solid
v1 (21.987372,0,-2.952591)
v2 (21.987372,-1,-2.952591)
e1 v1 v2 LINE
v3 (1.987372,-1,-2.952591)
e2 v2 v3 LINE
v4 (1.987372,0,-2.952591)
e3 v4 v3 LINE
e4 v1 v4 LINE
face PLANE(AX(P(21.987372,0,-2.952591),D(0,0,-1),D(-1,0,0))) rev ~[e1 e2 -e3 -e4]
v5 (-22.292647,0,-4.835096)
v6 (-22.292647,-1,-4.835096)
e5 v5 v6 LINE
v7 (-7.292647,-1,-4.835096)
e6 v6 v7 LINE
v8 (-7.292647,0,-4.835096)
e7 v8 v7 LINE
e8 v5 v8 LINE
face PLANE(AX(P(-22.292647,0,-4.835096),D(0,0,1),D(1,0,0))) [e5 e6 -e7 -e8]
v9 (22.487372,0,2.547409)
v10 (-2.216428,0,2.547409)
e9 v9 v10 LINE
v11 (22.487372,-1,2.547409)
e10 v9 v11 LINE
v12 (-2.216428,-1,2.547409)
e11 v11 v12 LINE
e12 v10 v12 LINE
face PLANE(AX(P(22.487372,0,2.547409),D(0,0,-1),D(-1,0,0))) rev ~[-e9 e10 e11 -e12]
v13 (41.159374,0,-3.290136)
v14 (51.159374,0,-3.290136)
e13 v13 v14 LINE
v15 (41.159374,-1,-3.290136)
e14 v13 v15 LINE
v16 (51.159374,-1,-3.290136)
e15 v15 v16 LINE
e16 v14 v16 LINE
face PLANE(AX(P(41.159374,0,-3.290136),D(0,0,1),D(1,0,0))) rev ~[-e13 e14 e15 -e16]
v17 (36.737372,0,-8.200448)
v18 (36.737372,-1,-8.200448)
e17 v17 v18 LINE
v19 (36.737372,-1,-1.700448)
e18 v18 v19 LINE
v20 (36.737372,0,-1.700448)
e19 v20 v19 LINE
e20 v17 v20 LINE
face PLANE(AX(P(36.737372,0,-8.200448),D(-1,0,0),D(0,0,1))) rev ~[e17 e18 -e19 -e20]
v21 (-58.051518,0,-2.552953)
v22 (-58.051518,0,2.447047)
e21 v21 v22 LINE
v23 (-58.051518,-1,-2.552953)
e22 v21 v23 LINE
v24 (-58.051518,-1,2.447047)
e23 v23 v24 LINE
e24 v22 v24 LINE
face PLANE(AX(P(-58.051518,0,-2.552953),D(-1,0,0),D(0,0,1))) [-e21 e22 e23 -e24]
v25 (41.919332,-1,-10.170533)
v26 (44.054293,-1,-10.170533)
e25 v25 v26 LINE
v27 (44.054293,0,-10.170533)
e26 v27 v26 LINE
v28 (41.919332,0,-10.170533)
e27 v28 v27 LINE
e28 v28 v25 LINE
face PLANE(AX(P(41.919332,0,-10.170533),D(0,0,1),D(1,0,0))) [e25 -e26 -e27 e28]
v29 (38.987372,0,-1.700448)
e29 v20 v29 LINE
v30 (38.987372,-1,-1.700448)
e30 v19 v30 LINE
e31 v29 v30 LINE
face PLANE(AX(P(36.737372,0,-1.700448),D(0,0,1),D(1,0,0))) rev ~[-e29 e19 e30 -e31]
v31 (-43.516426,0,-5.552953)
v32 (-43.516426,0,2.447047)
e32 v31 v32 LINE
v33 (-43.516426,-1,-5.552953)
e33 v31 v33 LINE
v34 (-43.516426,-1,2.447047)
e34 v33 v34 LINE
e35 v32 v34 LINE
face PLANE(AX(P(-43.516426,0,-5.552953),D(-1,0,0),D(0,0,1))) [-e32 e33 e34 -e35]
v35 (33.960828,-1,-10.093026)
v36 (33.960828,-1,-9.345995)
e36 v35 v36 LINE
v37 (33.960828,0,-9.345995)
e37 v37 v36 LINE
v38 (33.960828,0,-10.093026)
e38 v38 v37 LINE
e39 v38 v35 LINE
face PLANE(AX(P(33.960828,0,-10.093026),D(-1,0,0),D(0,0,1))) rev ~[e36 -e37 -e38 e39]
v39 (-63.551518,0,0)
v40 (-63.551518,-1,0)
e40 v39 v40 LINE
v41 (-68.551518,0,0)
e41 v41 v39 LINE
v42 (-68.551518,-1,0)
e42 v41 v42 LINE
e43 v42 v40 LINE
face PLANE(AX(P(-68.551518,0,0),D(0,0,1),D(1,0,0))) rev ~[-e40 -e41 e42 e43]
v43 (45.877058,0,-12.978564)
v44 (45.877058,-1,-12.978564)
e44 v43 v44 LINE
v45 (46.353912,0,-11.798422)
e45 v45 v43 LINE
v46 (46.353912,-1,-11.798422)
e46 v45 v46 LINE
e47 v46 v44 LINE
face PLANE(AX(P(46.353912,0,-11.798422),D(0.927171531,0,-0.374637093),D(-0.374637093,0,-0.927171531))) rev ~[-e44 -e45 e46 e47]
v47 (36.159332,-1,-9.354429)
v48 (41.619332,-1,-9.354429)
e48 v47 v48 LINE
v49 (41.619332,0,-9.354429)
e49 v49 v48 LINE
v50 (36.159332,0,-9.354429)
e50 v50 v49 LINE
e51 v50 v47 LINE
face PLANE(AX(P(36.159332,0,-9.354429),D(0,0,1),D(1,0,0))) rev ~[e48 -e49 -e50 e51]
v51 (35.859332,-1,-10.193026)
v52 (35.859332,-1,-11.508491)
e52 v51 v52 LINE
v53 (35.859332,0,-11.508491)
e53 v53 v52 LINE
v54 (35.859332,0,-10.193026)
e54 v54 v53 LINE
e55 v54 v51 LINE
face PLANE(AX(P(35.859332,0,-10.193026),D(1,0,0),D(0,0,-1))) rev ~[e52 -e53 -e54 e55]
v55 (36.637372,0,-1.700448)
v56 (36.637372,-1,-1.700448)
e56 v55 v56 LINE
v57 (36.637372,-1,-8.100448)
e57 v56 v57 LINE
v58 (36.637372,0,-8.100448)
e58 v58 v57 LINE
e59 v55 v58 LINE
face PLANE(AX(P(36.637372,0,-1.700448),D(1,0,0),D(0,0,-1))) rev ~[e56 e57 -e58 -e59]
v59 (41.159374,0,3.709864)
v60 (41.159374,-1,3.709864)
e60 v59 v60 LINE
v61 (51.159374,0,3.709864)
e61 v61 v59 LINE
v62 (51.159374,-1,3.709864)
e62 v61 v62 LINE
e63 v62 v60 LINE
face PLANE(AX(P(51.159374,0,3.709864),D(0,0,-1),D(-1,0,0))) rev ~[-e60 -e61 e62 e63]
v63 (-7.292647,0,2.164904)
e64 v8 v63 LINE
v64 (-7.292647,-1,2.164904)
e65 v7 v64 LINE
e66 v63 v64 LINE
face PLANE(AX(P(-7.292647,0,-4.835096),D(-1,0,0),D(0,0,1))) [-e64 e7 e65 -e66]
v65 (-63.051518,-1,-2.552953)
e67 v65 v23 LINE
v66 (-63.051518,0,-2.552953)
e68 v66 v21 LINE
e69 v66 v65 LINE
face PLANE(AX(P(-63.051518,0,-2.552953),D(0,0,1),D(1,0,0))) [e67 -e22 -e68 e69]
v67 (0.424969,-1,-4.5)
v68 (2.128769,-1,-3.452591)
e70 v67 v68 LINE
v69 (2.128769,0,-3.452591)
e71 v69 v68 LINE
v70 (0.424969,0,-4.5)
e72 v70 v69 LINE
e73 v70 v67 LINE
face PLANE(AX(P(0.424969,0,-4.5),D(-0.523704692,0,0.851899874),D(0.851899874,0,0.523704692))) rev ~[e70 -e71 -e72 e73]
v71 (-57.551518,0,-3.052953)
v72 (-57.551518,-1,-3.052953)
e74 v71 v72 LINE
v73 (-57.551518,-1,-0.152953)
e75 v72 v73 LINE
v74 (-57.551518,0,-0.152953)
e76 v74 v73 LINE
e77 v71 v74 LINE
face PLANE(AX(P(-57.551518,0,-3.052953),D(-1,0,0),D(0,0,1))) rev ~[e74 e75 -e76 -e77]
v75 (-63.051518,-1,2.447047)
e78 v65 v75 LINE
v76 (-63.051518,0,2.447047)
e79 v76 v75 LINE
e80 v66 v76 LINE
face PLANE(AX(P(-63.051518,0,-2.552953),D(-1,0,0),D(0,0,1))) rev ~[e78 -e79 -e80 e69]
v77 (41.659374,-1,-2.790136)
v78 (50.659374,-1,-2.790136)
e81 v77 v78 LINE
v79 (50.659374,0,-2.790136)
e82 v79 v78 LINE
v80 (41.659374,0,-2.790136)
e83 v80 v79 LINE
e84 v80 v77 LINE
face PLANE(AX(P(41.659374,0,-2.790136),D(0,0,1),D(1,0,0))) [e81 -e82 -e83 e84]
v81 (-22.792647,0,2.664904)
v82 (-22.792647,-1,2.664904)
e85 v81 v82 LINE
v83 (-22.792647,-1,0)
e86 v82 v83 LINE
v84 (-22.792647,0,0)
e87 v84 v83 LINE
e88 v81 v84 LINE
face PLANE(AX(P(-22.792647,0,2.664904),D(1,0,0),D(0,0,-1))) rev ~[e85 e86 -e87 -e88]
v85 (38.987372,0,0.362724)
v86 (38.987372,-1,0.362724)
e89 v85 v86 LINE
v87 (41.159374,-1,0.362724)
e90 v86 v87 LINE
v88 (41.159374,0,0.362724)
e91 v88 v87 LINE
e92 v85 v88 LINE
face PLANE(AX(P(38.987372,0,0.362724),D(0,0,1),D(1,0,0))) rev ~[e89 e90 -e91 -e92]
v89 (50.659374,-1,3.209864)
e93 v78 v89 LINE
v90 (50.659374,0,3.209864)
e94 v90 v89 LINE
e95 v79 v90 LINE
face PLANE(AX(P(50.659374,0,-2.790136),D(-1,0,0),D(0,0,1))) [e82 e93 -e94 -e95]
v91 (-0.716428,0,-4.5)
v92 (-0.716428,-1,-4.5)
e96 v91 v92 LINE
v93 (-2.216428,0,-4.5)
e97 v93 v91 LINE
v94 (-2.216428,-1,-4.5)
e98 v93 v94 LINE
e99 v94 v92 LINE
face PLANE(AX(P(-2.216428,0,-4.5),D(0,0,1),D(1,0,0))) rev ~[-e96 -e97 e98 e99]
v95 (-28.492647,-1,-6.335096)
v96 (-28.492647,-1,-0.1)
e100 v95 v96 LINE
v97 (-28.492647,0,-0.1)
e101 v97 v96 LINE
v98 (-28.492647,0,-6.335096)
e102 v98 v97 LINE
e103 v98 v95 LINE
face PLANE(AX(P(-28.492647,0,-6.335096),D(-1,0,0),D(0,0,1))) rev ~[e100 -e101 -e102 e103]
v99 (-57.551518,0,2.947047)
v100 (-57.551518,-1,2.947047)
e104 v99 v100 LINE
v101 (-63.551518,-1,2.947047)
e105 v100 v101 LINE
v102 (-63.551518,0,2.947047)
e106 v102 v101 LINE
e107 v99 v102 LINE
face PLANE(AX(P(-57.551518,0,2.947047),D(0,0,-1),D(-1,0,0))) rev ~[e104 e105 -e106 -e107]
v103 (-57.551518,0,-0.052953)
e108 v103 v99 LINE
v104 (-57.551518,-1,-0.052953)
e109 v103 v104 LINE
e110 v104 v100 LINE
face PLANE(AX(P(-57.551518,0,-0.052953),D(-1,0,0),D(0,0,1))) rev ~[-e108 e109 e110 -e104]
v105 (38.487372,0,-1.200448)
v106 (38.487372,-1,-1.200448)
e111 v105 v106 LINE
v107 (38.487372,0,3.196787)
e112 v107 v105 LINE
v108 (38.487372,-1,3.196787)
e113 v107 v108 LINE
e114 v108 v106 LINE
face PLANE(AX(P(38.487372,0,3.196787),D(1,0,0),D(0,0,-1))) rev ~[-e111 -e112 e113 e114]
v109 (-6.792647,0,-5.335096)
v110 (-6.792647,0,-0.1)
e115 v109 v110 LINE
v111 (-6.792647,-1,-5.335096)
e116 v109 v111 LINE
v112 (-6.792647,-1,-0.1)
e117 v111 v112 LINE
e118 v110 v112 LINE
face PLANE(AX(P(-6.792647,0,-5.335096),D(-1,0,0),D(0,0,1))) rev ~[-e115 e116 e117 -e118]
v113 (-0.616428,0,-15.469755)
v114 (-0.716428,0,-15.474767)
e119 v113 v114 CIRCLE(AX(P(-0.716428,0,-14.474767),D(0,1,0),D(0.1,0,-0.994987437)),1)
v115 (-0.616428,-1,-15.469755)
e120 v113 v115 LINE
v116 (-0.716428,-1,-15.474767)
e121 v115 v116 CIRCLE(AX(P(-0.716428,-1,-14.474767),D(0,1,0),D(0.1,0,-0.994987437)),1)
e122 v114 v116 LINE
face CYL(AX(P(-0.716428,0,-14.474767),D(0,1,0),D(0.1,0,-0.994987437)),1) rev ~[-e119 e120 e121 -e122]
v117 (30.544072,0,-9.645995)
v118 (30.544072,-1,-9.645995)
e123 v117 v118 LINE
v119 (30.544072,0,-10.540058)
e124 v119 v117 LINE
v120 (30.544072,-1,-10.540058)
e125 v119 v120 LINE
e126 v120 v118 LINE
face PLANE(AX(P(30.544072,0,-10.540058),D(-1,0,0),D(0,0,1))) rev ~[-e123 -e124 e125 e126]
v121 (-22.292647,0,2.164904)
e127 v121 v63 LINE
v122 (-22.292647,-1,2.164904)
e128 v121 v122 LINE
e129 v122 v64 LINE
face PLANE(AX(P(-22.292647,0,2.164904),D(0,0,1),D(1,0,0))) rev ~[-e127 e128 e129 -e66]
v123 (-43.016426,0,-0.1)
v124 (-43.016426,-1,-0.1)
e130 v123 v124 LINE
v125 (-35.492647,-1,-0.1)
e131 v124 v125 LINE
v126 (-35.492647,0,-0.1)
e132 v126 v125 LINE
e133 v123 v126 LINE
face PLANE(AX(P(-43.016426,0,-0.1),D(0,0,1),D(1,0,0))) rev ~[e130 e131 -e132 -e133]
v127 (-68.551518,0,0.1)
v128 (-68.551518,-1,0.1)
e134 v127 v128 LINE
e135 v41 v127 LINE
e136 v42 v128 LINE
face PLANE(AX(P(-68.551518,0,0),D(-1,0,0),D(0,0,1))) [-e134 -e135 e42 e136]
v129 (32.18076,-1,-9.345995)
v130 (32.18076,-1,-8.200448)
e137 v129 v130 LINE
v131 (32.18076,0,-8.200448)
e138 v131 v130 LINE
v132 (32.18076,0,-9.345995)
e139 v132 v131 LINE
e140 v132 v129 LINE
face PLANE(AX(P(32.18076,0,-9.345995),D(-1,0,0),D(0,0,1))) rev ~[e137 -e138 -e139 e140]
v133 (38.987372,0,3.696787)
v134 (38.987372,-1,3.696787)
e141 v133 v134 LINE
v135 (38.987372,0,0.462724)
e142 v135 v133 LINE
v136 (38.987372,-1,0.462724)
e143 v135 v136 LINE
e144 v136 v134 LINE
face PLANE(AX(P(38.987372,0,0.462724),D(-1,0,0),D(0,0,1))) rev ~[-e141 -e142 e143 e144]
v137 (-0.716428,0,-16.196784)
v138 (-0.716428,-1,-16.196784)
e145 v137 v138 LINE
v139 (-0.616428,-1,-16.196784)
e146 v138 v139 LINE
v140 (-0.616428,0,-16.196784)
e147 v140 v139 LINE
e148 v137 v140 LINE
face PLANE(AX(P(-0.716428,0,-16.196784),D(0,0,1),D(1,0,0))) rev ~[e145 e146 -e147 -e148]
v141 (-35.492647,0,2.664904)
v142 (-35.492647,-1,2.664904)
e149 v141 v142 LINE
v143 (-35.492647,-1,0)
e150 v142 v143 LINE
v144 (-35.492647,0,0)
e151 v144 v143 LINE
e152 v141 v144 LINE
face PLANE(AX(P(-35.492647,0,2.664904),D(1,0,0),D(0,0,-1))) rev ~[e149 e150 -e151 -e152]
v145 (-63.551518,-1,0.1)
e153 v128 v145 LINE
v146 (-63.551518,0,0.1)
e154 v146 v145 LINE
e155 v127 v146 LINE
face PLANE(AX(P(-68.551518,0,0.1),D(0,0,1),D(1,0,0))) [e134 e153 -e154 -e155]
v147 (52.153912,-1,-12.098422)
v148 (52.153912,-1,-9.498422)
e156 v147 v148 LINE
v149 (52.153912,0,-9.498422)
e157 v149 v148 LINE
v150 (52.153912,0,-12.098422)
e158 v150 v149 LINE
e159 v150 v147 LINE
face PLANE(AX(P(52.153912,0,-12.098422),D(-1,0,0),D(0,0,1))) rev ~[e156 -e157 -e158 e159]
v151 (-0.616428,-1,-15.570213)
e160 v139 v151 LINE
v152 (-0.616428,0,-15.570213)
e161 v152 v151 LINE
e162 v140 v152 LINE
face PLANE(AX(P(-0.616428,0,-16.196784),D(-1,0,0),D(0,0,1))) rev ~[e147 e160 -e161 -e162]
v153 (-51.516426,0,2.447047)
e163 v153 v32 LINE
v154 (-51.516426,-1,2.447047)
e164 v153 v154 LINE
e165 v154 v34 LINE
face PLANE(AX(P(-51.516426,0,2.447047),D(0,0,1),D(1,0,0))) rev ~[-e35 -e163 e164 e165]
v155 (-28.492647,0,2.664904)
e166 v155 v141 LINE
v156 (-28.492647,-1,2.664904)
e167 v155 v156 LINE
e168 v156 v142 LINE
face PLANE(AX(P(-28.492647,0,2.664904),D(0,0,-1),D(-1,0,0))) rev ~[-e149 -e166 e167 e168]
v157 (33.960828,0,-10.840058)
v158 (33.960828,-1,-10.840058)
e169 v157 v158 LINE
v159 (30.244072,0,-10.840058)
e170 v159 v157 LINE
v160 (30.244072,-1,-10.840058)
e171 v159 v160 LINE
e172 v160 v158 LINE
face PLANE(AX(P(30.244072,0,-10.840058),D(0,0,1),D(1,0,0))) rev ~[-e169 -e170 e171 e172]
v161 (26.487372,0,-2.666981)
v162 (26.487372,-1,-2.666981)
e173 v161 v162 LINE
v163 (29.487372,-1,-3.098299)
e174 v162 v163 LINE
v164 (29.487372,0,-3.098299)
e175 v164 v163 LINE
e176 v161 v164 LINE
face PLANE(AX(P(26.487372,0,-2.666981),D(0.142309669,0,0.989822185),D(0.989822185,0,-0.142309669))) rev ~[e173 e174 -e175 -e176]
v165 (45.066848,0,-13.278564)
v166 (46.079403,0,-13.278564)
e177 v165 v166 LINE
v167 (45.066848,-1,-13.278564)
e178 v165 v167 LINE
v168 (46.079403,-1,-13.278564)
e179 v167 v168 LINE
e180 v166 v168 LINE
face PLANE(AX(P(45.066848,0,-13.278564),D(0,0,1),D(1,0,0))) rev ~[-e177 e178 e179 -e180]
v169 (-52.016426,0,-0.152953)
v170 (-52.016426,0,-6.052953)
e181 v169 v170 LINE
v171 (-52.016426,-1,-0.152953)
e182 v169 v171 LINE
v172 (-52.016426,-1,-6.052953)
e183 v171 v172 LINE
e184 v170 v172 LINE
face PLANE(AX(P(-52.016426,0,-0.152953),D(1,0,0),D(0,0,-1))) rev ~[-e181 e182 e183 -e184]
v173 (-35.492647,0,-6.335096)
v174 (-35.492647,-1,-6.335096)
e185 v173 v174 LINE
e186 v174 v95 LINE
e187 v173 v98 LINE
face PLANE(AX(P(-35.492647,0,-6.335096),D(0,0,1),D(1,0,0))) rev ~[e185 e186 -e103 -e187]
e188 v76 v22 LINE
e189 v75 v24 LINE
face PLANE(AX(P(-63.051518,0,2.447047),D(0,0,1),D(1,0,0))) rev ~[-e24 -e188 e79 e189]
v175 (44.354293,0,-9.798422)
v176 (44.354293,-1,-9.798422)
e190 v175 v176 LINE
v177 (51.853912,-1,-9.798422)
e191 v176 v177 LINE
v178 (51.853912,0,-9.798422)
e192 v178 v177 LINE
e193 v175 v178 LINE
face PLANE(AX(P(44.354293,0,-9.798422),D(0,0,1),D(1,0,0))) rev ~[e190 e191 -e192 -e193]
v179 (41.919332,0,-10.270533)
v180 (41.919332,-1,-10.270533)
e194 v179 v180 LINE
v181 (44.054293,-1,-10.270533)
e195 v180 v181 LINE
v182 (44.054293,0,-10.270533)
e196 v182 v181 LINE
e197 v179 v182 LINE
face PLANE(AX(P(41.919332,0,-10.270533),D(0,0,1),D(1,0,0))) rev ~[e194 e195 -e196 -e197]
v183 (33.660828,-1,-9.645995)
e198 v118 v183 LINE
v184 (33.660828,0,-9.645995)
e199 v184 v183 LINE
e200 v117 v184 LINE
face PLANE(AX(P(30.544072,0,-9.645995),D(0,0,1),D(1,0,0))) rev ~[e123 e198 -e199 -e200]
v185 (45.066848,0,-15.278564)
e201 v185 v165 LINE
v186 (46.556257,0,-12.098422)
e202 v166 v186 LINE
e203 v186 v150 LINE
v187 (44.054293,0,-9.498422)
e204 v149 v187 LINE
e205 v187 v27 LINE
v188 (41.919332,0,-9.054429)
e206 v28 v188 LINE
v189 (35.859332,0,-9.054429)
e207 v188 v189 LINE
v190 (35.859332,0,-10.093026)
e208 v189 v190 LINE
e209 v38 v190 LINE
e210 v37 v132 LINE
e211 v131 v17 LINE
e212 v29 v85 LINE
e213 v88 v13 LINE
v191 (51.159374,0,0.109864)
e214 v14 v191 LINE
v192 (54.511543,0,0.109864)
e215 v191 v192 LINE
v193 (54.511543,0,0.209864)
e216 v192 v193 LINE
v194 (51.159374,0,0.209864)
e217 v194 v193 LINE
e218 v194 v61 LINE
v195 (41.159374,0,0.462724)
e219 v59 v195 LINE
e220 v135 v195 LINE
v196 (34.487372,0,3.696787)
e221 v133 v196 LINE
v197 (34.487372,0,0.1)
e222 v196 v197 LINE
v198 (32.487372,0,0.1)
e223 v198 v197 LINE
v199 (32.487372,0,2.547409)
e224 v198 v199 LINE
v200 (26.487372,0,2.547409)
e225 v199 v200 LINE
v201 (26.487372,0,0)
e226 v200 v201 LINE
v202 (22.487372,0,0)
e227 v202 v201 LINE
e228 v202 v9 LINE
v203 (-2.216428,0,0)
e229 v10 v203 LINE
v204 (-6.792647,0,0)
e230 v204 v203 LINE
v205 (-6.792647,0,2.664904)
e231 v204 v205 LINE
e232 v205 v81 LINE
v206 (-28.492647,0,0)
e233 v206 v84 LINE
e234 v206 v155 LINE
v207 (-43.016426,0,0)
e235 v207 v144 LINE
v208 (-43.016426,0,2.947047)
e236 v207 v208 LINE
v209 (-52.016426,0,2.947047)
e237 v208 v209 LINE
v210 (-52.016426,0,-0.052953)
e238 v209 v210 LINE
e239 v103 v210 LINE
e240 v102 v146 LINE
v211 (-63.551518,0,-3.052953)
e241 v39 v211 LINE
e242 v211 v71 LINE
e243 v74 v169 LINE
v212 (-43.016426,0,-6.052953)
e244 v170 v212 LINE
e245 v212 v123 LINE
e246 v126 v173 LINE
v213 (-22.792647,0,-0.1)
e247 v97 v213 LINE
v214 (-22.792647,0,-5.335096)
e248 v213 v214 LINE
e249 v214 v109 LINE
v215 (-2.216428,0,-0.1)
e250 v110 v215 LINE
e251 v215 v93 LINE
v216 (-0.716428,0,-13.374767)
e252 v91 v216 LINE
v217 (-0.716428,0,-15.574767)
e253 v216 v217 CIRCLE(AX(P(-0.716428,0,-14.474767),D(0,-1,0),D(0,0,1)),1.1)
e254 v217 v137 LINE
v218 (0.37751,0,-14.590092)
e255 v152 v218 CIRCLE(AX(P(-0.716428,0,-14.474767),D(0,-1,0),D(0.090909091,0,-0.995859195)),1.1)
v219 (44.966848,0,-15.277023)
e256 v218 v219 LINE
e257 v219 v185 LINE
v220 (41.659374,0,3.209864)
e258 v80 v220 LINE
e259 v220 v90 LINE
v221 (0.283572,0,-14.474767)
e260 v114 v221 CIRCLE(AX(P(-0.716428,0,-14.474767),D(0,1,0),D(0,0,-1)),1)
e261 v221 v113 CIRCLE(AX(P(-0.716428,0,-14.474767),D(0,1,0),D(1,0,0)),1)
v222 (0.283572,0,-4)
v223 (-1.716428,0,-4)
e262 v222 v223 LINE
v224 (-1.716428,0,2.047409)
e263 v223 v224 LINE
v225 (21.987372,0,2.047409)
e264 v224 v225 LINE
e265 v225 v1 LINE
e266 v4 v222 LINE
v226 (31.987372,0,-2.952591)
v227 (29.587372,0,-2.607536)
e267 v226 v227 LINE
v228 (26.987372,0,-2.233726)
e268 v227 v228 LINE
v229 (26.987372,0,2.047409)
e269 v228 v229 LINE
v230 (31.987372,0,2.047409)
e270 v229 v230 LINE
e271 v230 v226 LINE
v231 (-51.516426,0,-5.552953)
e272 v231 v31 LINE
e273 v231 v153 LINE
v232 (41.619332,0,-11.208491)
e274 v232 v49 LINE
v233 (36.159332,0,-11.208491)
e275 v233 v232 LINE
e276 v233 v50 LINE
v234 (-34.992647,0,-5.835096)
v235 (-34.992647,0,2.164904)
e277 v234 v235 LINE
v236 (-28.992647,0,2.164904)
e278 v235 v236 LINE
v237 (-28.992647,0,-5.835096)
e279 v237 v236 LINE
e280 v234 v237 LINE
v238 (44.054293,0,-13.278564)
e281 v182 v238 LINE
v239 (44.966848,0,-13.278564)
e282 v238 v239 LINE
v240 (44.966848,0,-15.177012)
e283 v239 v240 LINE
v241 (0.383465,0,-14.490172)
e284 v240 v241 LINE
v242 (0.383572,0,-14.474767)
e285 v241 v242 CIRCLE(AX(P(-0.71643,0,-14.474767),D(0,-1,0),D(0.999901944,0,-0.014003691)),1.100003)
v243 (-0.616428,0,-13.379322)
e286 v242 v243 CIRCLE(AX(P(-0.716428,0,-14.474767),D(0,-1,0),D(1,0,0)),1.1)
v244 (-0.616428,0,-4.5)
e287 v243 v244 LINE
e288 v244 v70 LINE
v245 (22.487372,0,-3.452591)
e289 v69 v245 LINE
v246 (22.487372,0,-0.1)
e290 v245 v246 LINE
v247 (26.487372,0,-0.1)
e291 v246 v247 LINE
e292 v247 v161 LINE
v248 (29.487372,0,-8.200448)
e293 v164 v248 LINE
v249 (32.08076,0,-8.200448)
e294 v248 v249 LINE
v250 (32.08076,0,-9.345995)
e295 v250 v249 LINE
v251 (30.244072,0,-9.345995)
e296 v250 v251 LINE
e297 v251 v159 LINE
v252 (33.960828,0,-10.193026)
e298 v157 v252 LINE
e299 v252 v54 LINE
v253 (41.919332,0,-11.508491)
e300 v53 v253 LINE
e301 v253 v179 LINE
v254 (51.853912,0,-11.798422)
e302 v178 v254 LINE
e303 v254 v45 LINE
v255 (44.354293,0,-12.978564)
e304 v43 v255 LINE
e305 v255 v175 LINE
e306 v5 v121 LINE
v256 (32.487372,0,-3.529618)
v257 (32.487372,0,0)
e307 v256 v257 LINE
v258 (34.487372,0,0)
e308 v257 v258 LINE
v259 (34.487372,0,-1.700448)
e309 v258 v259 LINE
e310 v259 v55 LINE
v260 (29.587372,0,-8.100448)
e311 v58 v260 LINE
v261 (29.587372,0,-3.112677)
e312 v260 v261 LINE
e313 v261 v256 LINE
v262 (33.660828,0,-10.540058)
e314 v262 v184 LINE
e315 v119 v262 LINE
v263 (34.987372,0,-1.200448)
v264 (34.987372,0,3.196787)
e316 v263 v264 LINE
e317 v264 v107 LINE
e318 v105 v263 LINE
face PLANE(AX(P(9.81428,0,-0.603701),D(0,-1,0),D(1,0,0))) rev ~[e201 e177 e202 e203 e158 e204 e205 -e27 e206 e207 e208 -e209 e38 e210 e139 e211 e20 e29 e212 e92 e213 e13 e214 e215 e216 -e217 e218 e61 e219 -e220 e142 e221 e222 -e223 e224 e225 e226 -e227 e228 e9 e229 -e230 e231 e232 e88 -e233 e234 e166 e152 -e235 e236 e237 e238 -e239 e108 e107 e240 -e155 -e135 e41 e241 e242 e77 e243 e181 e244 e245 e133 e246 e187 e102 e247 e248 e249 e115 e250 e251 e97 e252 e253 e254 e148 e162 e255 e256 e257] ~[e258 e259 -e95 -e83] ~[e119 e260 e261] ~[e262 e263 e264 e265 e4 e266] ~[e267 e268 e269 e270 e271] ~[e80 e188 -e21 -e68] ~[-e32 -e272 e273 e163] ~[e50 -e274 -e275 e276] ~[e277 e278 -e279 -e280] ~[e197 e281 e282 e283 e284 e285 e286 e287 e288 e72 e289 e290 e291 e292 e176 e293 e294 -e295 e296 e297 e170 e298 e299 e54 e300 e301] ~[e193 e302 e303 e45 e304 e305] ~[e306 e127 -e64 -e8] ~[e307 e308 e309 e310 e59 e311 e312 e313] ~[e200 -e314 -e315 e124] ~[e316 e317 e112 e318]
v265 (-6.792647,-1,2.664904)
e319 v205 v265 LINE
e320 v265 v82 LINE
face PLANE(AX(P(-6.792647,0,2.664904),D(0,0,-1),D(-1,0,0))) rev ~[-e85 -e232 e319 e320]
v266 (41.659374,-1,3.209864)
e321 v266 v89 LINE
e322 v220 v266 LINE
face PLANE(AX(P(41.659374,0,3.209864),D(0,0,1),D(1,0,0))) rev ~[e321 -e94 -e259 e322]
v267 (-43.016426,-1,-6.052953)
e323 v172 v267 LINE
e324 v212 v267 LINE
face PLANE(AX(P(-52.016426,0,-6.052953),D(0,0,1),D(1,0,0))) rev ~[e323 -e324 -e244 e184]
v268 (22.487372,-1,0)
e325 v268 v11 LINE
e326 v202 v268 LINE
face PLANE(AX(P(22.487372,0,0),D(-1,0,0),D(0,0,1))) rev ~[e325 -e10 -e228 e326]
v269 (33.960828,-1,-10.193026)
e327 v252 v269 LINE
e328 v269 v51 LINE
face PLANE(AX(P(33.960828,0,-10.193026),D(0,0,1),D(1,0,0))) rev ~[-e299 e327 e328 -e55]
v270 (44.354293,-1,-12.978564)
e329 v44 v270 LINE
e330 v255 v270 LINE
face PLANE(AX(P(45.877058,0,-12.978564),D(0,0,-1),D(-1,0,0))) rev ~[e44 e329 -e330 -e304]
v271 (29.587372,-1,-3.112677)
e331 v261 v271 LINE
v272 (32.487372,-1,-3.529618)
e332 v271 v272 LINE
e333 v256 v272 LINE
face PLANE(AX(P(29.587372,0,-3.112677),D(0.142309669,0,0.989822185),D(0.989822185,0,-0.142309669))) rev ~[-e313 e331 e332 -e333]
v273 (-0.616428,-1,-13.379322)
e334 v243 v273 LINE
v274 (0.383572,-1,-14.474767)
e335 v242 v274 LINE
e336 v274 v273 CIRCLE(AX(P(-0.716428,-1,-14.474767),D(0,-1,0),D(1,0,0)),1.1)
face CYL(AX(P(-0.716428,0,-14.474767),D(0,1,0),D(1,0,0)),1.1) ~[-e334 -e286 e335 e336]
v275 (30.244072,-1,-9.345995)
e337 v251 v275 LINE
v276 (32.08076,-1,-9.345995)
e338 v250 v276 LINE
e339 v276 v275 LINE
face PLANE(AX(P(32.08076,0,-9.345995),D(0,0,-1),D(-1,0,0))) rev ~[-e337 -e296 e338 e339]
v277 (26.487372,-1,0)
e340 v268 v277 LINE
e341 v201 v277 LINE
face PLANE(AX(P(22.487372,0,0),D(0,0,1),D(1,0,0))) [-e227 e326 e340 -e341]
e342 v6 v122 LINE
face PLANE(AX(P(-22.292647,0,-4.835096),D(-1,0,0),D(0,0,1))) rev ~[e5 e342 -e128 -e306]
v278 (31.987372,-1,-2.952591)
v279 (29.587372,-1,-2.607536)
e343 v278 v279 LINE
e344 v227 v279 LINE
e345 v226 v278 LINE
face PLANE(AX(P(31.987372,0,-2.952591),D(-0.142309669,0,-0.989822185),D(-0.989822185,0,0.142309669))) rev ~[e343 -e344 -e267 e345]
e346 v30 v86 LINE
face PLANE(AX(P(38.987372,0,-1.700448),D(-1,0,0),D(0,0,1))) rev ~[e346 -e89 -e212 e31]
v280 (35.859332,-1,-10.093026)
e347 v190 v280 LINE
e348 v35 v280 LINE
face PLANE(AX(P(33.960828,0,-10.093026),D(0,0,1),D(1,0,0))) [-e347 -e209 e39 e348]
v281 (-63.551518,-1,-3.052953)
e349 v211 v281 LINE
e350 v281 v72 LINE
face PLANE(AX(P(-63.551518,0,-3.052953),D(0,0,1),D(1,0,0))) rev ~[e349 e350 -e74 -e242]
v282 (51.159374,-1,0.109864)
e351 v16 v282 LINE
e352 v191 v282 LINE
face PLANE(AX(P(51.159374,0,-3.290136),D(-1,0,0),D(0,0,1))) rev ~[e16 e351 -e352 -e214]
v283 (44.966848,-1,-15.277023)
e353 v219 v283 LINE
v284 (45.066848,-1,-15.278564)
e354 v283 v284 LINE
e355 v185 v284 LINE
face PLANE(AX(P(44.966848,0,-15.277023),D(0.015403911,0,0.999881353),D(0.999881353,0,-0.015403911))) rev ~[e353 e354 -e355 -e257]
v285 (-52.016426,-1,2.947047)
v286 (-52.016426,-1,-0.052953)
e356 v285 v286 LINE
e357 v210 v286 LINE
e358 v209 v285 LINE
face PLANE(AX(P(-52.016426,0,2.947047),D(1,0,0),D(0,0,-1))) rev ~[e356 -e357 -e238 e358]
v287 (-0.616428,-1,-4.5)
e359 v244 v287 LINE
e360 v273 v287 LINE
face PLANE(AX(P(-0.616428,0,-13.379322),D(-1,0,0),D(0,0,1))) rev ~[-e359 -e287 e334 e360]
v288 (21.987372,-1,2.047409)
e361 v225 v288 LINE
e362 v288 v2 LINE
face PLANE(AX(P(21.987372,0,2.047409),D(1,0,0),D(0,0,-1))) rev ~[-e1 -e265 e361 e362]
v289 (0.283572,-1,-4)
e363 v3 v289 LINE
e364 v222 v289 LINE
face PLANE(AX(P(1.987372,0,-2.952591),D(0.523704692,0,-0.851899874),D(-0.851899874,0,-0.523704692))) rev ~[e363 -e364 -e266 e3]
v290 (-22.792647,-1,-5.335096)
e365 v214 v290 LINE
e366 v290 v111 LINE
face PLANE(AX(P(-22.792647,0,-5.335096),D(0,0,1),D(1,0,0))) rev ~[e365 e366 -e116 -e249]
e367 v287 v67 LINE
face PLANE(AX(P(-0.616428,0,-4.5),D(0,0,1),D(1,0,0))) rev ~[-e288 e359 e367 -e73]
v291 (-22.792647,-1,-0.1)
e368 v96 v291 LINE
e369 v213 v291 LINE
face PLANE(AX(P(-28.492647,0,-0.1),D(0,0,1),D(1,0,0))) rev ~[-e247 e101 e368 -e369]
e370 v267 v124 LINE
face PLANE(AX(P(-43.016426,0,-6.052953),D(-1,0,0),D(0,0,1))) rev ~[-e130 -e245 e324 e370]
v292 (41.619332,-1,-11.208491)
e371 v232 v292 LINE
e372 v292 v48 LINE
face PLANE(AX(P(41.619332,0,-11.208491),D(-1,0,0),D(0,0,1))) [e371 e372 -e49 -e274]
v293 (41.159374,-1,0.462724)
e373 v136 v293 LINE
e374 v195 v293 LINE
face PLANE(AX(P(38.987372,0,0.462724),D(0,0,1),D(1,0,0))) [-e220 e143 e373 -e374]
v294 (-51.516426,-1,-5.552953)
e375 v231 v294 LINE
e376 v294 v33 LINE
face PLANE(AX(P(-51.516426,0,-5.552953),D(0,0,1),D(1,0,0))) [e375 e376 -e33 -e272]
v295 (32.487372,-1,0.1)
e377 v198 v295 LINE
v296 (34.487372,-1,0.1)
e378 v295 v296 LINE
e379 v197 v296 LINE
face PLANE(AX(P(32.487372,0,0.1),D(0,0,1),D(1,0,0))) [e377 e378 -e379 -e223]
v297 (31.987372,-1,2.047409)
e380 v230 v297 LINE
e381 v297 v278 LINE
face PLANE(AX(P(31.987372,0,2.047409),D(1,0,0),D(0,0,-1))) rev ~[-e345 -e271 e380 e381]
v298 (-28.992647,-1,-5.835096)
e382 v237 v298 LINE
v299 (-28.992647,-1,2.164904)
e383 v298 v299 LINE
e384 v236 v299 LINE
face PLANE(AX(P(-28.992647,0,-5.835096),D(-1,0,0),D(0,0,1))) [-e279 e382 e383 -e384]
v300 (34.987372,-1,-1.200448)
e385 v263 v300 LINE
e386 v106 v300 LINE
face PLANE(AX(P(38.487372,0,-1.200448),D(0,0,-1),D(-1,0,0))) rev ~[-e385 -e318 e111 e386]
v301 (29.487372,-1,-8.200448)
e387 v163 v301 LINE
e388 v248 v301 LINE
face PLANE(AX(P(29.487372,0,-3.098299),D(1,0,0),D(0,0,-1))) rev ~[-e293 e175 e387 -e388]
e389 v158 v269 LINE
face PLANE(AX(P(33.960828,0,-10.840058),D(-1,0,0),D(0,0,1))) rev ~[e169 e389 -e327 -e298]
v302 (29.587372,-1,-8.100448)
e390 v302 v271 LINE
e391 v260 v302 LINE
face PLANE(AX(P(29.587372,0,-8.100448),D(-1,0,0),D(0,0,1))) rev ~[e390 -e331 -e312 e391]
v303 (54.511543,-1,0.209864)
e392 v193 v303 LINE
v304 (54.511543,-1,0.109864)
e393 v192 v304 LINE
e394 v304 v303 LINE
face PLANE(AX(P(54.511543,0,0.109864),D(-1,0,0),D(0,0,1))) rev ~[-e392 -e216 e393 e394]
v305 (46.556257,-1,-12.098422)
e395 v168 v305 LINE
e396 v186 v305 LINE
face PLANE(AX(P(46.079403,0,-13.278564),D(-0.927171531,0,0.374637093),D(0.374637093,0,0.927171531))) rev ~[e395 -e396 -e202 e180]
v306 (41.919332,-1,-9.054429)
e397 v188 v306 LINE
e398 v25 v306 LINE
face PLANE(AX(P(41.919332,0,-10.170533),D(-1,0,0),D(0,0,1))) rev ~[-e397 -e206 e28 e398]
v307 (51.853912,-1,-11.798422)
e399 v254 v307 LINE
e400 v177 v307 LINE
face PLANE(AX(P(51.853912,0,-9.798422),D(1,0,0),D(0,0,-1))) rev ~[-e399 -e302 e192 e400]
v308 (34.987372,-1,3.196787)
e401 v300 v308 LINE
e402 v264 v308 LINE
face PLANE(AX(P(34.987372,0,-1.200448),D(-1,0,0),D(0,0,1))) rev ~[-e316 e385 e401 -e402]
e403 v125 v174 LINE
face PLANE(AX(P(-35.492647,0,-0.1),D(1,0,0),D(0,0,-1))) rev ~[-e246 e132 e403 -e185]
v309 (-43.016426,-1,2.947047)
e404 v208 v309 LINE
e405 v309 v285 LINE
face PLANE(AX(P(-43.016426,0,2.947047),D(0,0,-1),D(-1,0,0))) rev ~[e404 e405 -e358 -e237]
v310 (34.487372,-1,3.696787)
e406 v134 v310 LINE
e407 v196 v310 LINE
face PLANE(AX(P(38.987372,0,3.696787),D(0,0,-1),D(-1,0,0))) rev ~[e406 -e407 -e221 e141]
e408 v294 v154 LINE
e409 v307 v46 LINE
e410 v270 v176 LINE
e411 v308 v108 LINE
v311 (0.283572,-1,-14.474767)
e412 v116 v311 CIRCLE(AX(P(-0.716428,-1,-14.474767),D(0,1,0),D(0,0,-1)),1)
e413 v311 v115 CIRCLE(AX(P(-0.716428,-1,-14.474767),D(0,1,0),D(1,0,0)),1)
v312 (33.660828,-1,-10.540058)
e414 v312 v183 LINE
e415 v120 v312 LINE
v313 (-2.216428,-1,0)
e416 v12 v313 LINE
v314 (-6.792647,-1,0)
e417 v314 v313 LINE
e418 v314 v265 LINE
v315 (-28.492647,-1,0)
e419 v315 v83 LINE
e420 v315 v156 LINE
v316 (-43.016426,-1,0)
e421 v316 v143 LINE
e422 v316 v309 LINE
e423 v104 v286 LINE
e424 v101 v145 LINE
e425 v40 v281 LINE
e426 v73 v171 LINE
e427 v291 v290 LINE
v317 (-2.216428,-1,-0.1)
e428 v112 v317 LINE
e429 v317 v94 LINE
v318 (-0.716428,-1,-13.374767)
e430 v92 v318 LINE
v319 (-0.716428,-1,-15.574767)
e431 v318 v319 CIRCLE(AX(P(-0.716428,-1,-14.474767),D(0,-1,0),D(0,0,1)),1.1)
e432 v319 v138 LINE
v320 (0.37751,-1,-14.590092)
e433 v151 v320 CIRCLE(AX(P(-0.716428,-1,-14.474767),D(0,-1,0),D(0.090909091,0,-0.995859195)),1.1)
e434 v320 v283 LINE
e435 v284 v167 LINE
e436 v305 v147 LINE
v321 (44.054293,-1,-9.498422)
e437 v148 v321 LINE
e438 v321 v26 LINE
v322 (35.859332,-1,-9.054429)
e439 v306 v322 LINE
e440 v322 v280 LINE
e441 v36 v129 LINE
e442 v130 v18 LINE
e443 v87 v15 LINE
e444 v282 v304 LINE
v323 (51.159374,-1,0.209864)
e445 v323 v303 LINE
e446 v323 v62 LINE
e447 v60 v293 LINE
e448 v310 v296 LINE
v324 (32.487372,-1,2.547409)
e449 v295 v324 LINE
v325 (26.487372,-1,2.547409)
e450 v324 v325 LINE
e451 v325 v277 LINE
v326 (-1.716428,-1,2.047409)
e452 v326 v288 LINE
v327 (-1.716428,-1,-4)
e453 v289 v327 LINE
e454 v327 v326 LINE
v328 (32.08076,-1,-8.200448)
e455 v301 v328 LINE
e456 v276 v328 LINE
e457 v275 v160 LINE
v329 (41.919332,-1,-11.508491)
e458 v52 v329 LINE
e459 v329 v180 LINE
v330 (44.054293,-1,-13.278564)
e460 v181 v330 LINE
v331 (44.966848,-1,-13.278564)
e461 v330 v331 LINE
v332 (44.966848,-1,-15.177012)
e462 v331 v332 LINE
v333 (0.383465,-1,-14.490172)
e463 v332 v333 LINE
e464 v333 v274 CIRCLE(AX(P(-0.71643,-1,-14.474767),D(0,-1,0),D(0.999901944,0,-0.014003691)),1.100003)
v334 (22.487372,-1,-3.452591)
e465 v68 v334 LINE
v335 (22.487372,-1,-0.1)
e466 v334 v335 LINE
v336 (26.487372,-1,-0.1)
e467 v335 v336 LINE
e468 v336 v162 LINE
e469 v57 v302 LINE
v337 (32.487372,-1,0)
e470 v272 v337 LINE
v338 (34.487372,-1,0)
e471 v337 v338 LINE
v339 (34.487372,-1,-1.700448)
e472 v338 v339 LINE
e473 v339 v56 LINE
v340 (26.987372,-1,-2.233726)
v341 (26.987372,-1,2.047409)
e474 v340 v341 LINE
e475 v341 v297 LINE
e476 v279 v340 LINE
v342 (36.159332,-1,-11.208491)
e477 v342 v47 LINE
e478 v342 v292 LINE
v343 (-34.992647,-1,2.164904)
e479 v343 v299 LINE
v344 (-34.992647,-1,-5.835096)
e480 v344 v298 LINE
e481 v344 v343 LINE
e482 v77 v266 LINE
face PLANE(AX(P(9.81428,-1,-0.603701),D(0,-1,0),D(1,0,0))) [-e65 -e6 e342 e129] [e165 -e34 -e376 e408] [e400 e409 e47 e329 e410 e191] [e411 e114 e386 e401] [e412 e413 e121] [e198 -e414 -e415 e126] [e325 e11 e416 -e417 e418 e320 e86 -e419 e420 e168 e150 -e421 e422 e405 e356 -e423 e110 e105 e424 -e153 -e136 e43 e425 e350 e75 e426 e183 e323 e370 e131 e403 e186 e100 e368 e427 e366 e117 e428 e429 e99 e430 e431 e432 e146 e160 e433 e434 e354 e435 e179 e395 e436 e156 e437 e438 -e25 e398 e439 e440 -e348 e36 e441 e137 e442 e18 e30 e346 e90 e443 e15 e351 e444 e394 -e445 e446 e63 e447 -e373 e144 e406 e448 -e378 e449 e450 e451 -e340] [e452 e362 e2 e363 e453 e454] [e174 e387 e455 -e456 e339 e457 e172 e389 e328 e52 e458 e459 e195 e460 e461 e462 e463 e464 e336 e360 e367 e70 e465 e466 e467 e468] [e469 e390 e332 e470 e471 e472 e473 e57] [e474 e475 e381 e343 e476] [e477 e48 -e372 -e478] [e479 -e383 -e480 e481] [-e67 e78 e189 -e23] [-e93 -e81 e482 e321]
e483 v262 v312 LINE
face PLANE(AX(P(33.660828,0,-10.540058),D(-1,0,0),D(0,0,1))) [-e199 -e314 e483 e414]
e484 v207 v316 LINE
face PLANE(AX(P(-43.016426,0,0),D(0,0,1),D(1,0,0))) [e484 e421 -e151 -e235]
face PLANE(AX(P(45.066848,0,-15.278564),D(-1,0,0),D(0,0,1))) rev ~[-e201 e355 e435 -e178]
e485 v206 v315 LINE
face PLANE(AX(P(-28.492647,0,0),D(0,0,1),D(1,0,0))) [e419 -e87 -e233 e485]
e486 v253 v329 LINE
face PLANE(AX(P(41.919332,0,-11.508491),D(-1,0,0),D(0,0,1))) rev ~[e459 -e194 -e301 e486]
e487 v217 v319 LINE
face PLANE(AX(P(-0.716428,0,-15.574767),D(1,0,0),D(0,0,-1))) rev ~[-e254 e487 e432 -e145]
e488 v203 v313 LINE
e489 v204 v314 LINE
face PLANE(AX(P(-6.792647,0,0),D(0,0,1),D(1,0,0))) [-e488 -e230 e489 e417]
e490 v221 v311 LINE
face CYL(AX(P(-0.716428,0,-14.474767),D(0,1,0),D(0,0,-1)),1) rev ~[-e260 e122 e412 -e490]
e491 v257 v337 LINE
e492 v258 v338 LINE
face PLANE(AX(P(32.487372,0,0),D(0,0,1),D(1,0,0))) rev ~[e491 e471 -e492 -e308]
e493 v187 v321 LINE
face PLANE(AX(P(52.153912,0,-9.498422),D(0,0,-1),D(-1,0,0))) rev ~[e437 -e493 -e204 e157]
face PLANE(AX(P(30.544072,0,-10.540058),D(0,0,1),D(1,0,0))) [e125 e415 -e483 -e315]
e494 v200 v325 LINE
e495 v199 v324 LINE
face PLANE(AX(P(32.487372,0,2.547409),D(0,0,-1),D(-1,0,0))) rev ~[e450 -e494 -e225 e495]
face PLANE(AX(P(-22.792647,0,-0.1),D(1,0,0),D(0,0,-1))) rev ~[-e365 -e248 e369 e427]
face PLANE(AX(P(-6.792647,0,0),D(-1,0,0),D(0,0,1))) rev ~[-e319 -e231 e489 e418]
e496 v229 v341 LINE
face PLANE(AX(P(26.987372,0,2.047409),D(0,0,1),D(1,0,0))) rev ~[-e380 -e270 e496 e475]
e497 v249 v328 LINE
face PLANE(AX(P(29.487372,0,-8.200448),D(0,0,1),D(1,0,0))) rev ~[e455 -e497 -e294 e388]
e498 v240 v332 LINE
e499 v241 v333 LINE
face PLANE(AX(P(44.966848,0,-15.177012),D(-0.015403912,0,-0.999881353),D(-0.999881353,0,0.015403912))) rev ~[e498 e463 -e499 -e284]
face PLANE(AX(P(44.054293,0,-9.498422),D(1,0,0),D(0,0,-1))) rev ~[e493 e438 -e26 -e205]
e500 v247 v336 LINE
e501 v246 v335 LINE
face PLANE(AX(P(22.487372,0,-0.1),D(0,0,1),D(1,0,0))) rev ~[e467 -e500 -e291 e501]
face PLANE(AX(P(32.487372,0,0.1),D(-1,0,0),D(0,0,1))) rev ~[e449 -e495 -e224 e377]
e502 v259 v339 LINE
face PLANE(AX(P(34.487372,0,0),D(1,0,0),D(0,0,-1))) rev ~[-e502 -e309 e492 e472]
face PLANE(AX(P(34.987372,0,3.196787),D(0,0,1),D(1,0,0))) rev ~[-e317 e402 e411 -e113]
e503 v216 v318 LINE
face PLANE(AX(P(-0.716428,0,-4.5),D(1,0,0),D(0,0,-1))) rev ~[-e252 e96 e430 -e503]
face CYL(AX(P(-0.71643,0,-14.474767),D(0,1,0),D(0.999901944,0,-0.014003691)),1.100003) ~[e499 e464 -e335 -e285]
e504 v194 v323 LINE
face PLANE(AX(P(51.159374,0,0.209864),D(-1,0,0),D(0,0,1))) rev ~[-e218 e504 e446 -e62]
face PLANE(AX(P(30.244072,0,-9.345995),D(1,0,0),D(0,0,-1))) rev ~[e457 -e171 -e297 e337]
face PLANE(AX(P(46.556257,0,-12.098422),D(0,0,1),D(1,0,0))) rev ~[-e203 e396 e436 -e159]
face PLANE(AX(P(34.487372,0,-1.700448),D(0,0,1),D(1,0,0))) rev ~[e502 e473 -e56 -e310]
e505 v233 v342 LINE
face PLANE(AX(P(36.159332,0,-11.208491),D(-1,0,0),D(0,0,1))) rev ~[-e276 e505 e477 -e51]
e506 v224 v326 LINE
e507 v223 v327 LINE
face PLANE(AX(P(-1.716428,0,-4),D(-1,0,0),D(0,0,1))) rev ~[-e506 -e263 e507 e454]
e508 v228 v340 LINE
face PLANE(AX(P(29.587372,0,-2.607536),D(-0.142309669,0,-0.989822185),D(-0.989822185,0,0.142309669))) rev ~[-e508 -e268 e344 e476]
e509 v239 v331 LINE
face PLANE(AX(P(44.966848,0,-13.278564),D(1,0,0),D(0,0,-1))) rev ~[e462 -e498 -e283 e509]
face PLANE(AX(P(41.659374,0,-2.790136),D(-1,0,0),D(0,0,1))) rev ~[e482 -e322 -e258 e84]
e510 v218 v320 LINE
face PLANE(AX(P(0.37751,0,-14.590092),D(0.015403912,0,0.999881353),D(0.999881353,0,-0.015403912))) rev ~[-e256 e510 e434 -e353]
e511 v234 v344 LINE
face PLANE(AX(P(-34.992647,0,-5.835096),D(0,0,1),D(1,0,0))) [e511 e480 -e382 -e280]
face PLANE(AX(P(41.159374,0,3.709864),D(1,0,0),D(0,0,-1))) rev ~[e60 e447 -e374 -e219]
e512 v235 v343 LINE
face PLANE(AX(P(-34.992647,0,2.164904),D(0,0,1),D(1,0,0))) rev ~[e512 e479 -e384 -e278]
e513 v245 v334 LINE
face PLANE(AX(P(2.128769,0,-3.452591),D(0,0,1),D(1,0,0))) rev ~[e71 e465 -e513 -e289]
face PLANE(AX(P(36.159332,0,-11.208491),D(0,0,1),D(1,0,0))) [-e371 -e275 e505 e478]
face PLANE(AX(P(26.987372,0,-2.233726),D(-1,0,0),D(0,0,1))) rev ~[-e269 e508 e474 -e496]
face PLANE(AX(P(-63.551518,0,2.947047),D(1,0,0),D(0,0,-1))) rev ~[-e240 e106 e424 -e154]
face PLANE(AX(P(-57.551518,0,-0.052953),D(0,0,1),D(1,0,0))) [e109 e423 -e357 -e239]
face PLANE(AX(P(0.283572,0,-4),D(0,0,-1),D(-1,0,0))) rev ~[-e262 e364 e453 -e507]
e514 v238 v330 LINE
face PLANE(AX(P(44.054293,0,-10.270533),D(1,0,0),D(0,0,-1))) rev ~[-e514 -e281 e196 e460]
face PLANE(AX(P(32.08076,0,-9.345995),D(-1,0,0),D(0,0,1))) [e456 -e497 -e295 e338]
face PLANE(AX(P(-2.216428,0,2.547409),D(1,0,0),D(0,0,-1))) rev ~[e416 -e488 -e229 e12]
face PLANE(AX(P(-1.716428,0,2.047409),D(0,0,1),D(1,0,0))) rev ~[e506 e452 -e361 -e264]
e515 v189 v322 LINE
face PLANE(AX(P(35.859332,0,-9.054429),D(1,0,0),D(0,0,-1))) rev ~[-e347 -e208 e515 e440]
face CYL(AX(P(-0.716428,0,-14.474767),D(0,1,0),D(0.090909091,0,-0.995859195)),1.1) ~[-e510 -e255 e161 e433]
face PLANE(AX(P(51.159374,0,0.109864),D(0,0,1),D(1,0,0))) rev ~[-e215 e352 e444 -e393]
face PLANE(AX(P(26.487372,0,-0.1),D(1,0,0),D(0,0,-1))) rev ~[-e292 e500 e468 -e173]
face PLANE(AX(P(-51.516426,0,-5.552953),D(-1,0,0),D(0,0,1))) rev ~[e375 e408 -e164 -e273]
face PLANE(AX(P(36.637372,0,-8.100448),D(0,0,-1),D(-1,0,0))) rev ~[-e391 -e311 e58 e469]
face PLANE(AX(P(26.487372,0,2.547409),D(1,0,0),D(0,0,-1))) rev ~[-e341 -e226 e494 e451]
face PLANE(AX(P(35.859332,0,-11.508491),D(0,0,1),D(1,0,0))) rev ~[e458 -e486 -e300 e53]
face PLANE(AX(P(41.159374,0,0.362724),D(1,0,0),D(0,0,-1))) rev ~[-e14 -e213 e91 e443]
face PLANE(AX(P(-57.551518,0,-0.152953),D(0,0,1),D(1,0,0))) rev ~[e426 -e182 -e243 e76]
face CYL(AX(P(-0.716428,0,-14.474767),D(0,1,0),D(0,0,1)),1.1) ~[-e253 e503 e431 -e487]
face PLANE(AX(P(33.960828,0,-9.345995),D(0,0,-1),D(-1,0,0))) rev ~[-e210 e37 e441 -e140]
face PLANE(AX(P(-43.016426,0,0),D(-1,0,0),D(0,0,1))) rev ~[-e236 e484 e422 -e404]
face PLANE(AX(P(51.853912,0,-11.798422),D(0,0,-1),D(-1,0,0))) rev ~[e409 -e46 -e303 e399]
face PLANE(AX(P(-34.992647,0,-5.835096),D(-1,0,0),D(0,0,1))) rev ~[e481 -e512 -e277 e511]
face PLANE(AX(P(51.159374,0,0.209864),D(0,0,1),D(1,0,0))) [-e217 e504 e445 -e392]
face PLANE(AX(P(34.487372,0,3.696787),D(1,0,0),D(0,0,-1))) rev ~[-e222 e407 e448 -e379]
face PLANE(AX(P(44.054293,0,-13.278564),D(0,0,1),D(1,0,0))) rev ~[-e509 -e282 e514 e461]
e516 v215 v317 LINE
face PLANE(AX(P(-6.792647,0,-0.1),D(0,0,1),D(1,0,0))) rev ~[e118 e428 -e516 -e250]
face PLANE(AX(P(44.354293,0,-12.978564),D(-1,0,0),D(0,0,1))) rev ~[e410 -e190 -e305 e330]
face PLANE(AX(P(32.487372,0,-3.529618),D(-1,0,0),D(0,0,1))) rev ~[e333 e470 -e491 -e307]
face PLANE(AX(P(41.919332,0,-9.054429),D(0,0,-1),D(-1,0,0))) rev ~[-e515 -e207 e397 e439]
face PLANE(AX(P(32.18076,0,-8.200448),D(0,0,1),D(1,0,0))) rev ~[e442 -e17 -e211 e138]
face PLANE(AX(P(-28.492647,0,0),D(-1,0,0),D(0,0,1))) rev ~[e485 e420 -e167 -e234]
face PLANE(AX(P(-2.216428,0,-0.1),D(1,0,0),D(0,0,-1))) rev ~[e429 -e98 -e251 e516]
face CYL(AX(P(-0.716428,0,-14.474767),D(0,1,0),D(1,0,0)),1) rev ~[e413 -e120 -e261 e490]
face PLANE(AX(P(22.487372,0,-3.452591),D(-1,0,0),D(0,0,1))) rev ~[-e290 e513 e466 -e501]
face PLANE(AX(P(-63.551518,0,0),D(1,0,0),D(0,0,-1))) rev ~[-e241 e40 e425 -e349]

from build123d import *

# Parameters (mm, degrees)
F0_W     = 0.1
F0_H     = 0.5
F0_W_2   = 4.5762195215
F0_H_2   = 0.1
F0_W_3   = 15
F0_H_3   = 7
F0_W_4   = 4
F0_W_5   = 5.7000000263
F0_W_6   = 6
F0_H_4   = 8
F0_W_7   = 2.1349615479
F0_W_8   = 5.4599995956
F0_H_5   = 1.8540623203
F0_H_6   = 1.1455476638
F0_W_9   = 7.5237791166
F0_W_10  = 2
F0_W_11  = 3.1167556109
F0_H_7   = 0.894062461
F0_W_12  = 8
F0_W_13  = 1.8985043958
F0_W_14  = 5.535091728
F0_W_15  = 2.1720023397
F0_W_16  = 5
F0_H_8   = 5
F0_W_17  = 9
F0_H_9   = 6
F0_W_18  = 3.3521689058
F1_DEPTH = 1


with BuildPart() as f1:
    # F0 (on Front) → F1 (new body)
    with BuildSketch(Plane.XZ):
        Polygon((-0.7164276307, -4), (-1.7164276307, -4), (-1.7164276307, 2.0474093835), (21.9873721178, 2.0474093835), (21.9873721178, -2.9525906165), (1.9873721178, -2.9525906165), (0.2835723693, -4), (-0.6164276307, -4), (-0.6164276307, -4.5), (0.4249689693, -4.5), (2.1287687179, -3.4525906165), (22.4873721178, -3.4525906165), (22.4873721178, -0.1), (22.4873721178, 0), (22.4873721178, 2.5474093835), (-2.2164276307, 2.5474093835), (-2.2164276307, 0), (-2.2164276307, -0.1), (-2.2164276307, -4.5), (-0.7164276307, -4.5), align=None)
        with Locations((-0.6664276307, -4.25)):
            Rectangle(F0_W, F0_H)
        with BuildLine():
            Line((-0.6164276307, -4.5), (-0.7164276307, -4.5))
            Line((-0.7164276307, -4.5), (-0.7164276307, -13.3747674979))
            ThreePointArc((-0.7164276307, -13.3747674979), (-0.6663757902, -13.3759068091), (-0.6164276307, -13.3793223828))
            Line((-0.6164276307, -13.3793223828), (-0.6164276307, -4.5))
        make_face()
        with BuildLine():
            ThreePointArc((-0.6164276307, -13.3793223828), (-0.6663757902, -13.3759068091), (-0.7164276307, -13.3747674979))
            ThreePointArc((-0.7164276307, -13.3747674979), (-1.8164276307, -14.4747674979), (-0.7164276307, -15.5747674979))
            Line((-0.7164276307, -15.5747674979), (-0.7164276307, -15.4747674979))
            ThreePointArc((-0.7164276307, -15.4747674979), (-1.4235344119, -13.7676607167), (0.2835723693, -14.4747674979))
            ThreePointArc((0.2835723693, -14.4747674979), (0.025192218, -15.1455878911), (-0.6164276307, -15.469754935))
            Line((-0.6164276307, -15.469754935), (-0.6164276307, -15.5702126129))
            ThreePointArc((-0.6164276307, -15.5702126129), (0.0559267082, -15.2580099731), (0.3775103589, -14.5900917138))
            ThreePointArc((0.3775103589, -14.5900917138), (0.3816245836, -14.5401994065), (0.3834645069, -14.4901715758))
            ThreePointArc((0.3834645069, -14.4901715758), (0.3835454033, -14.4824697256), (0.3835723693, -14.4747674979))
            ThreePointArc((0.3835723693, -14.4747674979), (0.0959762097, -13.7331476491), (-0.6164276307, -13.3793223828))
        make_face()
        with BuildLine():
            Line((-0.7164276307, -15.4747674979), (-0.7164276307, -15.5747674979))
            ThreePointArc((-0.7164276307, -15.5747674979), (-0.6663757902, -15.5736281866), (-0.6164276307, -15.5702126129))
            Line((-0.6164276307, -15.5702126129), (-0.6164276307, -15.469754935))
            ThreePointArc((-0.6164276307, -15.469754935), (-0.6663648557, -15.473513571), (-0.7164276307, -15.4747674979))
        make_face()
        with BuildLine():
            ThreePointArc((-0.6164276307, -15.5702126129), (-0.6663757902, -15.5736281866), (-0.7164276307, -15.5747674979))
            Line((-0.7164276307, -15.5747674979), (-0.7164276307, -16.196783632))
            Line((-0.7164276307, -16.196783632), (-0.6164276307, -16.196783632))
            Line((-0.6164276307, -16.196783632), (-0.6164276307, -15.5702126129))
        make_face()
        with Locations((-4.5045373915, -0.05)):
            Rectangle(F0_W_2, F0_H_2)
        Polygon((-6.7926471522, -5.3350963127), (-6.7926471522, -0.1), (-6.7926471522, 0), (-6.7926471522, 2.6649036873), (-22.7926471522, 2.6649036873), (-22.7926471522, 0), (-22.7926471522, -0.1), (-22.7926471522, -5.3350963127), align=None)
        with Locations((-14.7926471522, -1.3350963127)):
            Rectangle(F0_W_3, F0_H_3, mode=Mode.SUBTRACT)
        with BuildLine():
            Line((44.9668482701, -15.1770115764), (0.3834645069, -14.4901715758))
            ThreePointArc((0.3834645069, -14.4901715758), (0.3816245836, -14.5401994065), (0.3775103589, -14.5900917138))
            Line((0.3775103589, -14.5900917138), (44.9668482701, -15.2770234426))
            Line((44.9668482701, -15.2770234426), (45.0668482701, -15.2785640165))
            Line((45.0668482701, -15.2785640165), (45.0668482701, -15.1785521504))
            Line((45.0668482701, -15.1785521504), (45.0668482701, -13.2785640165))
            Line((45.0668482701, -13.2785640165), (44.9668482701, -13.2785640165))
            Line((44.9668482701, -13.2785640165), (44.9668482701, -15.1770115764))
        make_face()
        with Locations((24.4873721178, -0.05)):
            Rectangle(F0_W_4, F0_H_2)
        Polygon((26.4873721178, 0), (26.4873721178, -0.1), (26.4873721178, -2.6669805495), (29.4873721178, -3.0982994409), (29.5873721178, -3.1126767373), (32.4873721178, -3.5296183324), (32.4873721178, 0), (32.4873721178, 0.1), (32.4873721178, 2.5474093835), (26.4873721178, 2.5474093835), (26.4873721178, 0.0474093835), align=None)
        Polygon((26.9873721178, -2.2337257974), (26.9873721178, 0.0474093835), (26.9873721178, 2.0474093835), (31.9873721178, 2.0474093835), (31.9873721178, -2.9525906165), (29.5873721178, -2.6075355033), align=None, mode=Mode.SUBTRACT)
        Polygon((44.0542930675, -13.2785640165), (44.9668482701, -13.2785640165), (45.0668482701, -13.2785640165), (46.0794034727, -13.2785640165), (46.5562570157, -12.0984218523), (52.1539116397, -12.0984218523), (52.1539116397, -9.4984218523), (44.0542930675, -9.4984218523), (44.0542930675, -10.1705333218), (44.0542930675, -10.2705333218), align=None)
        Polygon((51.8539116397, -11.7984218523), (46.3539116397, -11.7984218523), (45.8770580967, -12.9785640165), (44.3542930675, -12.9785640165), (44.3542930675, -9.7984218523), (51.8539116397, -9.7984218523), align=None, mode=Mode.SUBTRACT)
        with Locations((-25.6426471653, -0.05)):
            Rectangle(F0_W_5, F0_H_2)
        Polygon((-28.4926471785, -6.3350963127), (-28.4926471785, -0.1), (-28.4926471785, 0), (-28.4926471785, 2.6649036873), (-35.4926471785, 2.6649036873), (-35.4926471785, 0), (-35.4926471785, -0.1), (-35.4926471785, -6.3350963127), align=None)
        with Locations((-31.9926471785, -1.8350963127)):
            Rectangle(F0_W_6, F0_H_4, mode=Mode.SUBTRACT)
        Polygon((29.5873721178, -3.1126767373), (29.4873721178, -3.0982994409), (29.4873721178, -8.2004475985), (32.0807600558, -8.2004475985), (32.1807600558, -8.2004475985), (36.7373721178, -8.2004475985), (36.7373721178, -1.7004475985), (36.6373721178, -1.7004475985), (36.6373721178, -8.1004475985), (29.5873721178, -8.1004475985), align=None)
        with Locations((42.9868122936, -10.2205333218)):
            Rectangle(F0_W_7, F0_H_2)
        Polygon((41.9193315196, -11.5084912181), (41.9193315196, -10.2705333218), (41.9193315196, -10.1705333218), (41.9193315196, -9.0544288978), (35.859331924, -9.0544288978), (35.859331924, -10.0930264927), (35.859331924, -10.1930264927), (35.859331924, -11.5084912181), align=None)
        with Locations((38.8893317218, -10.2814600579)):
            Rectangle(F0_W_8, F0_H_5, mode=Mode.SUBTRACT)
        with Locations((32.1307600558, -8.7732214304)):
            Rectangle(F0_W, F0_H_6)
        with Locations((-39.2545367368, -0.05)):
            Rectangle(F0_W_9, F0_H_2)
        with Locations((33.4873721178, 0.05)):
            Rectangle(F0_W_10, F0_H_2)
        Polygon((32.1807600558, -9.3459952623), (32.0807600558, -9.3459952623), (30.2440719174, -9.3459952623), (30.2440719174, -10.8400577232), (33.9608275283, -10.8400577232), (33.9608275283, -10.1930264927), (33.9608275283, -10.0930264927), (33.9608275283, -9.3459952623), align=None)
        with Locations((32.1024497228, -10.0930264927)):
            Rectangle(F0_W_11, F0_H_7, mode=Mode.SUBTRACT)
        Polygon((-43.016426295, -6.0529528502), (-43.016426295, -0.1), (-43.016426295, 0), (-43.016426295, 2.9470471498), (-52.016426295, 2.9470471498), (-52.016426295, -0.0529528502), (-52.016426295, -0.1529528502), (-52.016426295, -6.0529528502), align=None)
        with Locations((-47.516426295, -1.5529528502)):
            Rectangle(F0_W_12, F0_H_4, mode=Mode.SUBTRACT)
        Polygon((34.4873721178, 3.6967870891), (34.4873721178, 0.1), (34.4873721178, 0), (34.4873721178, -1.7004475985), (36.6373721178, -1.7004475985), (36.7373721178, -1.7004475985), (38.9873721178, -1.7004475985), (38.9873721178, 0.3627240414), (38.9873721178, 0.4627240414), (38.9873721178, 3.6967870891), align=None)
        Polygon((34.9873721178, -1.2004475985), (34.9873721178, 0), (34.9873721178, 3.1967870891), (38.4873721178, 3.1967870891), (38.4873721178, -1.2004475985), align=None, mode=Mode.SUBTRACT)
        with Locations((34.9100797262, -10.1430264927)):
            Rectangle(F0_W_13, F0_H_2)
        with Locations((-54.783972159, -0.1029528502)):
            Rectangle(F0_W_14, F0_H_2)
        with Locations((40.0733732877, 0.4127240414)):
            Rectangle(F0_W_15, F0_H_2)
        Polygon((-57.551518023, -3.0529528502), (-57.551518023, -0.1529528502), (-57.551518023, -0.0529528502), (-57.551518023, 2.9470471498), (-63.551518023, 2.9470471498), (-63.551518023, 0.1), (-63.551518023, 0), (-63.551518023, -3.0529528502), align=None)
        with Locations((-60.551518023, -0.0529528502)):
            Rectangle(F0_W_16, F0_H_8, mode=Mode.SUBTRACT)
        Polygon((41.1593744576, 3.7098635044), (41.1593744576, 0.4627240414), (41.1593744576, 0.3627240414), (41.1593744576, -3.2901364956), (51.1593744576, -3.2901364956), (51.1593744576, 0.1098635044), (51.1593744576, 0.2098635044), (51.1593744576, 3.7098635044), align=None)
        with Locations((46.1593744576, 0.2098635044)):
            Rectangle(F0_W_17, F0_H_9, mode=Mode.SUBTRACT)
        with Locations((-66.051518023, 0.05)):
            Rectangle(F0_W_16, F0_H_2)
        with Locations((52.8354589105, 0.1598635044)):
            Rectangle(F0_W_18, F0_H_2)
    extrude(amount=F1_DEPTH)


solid = f1.part
